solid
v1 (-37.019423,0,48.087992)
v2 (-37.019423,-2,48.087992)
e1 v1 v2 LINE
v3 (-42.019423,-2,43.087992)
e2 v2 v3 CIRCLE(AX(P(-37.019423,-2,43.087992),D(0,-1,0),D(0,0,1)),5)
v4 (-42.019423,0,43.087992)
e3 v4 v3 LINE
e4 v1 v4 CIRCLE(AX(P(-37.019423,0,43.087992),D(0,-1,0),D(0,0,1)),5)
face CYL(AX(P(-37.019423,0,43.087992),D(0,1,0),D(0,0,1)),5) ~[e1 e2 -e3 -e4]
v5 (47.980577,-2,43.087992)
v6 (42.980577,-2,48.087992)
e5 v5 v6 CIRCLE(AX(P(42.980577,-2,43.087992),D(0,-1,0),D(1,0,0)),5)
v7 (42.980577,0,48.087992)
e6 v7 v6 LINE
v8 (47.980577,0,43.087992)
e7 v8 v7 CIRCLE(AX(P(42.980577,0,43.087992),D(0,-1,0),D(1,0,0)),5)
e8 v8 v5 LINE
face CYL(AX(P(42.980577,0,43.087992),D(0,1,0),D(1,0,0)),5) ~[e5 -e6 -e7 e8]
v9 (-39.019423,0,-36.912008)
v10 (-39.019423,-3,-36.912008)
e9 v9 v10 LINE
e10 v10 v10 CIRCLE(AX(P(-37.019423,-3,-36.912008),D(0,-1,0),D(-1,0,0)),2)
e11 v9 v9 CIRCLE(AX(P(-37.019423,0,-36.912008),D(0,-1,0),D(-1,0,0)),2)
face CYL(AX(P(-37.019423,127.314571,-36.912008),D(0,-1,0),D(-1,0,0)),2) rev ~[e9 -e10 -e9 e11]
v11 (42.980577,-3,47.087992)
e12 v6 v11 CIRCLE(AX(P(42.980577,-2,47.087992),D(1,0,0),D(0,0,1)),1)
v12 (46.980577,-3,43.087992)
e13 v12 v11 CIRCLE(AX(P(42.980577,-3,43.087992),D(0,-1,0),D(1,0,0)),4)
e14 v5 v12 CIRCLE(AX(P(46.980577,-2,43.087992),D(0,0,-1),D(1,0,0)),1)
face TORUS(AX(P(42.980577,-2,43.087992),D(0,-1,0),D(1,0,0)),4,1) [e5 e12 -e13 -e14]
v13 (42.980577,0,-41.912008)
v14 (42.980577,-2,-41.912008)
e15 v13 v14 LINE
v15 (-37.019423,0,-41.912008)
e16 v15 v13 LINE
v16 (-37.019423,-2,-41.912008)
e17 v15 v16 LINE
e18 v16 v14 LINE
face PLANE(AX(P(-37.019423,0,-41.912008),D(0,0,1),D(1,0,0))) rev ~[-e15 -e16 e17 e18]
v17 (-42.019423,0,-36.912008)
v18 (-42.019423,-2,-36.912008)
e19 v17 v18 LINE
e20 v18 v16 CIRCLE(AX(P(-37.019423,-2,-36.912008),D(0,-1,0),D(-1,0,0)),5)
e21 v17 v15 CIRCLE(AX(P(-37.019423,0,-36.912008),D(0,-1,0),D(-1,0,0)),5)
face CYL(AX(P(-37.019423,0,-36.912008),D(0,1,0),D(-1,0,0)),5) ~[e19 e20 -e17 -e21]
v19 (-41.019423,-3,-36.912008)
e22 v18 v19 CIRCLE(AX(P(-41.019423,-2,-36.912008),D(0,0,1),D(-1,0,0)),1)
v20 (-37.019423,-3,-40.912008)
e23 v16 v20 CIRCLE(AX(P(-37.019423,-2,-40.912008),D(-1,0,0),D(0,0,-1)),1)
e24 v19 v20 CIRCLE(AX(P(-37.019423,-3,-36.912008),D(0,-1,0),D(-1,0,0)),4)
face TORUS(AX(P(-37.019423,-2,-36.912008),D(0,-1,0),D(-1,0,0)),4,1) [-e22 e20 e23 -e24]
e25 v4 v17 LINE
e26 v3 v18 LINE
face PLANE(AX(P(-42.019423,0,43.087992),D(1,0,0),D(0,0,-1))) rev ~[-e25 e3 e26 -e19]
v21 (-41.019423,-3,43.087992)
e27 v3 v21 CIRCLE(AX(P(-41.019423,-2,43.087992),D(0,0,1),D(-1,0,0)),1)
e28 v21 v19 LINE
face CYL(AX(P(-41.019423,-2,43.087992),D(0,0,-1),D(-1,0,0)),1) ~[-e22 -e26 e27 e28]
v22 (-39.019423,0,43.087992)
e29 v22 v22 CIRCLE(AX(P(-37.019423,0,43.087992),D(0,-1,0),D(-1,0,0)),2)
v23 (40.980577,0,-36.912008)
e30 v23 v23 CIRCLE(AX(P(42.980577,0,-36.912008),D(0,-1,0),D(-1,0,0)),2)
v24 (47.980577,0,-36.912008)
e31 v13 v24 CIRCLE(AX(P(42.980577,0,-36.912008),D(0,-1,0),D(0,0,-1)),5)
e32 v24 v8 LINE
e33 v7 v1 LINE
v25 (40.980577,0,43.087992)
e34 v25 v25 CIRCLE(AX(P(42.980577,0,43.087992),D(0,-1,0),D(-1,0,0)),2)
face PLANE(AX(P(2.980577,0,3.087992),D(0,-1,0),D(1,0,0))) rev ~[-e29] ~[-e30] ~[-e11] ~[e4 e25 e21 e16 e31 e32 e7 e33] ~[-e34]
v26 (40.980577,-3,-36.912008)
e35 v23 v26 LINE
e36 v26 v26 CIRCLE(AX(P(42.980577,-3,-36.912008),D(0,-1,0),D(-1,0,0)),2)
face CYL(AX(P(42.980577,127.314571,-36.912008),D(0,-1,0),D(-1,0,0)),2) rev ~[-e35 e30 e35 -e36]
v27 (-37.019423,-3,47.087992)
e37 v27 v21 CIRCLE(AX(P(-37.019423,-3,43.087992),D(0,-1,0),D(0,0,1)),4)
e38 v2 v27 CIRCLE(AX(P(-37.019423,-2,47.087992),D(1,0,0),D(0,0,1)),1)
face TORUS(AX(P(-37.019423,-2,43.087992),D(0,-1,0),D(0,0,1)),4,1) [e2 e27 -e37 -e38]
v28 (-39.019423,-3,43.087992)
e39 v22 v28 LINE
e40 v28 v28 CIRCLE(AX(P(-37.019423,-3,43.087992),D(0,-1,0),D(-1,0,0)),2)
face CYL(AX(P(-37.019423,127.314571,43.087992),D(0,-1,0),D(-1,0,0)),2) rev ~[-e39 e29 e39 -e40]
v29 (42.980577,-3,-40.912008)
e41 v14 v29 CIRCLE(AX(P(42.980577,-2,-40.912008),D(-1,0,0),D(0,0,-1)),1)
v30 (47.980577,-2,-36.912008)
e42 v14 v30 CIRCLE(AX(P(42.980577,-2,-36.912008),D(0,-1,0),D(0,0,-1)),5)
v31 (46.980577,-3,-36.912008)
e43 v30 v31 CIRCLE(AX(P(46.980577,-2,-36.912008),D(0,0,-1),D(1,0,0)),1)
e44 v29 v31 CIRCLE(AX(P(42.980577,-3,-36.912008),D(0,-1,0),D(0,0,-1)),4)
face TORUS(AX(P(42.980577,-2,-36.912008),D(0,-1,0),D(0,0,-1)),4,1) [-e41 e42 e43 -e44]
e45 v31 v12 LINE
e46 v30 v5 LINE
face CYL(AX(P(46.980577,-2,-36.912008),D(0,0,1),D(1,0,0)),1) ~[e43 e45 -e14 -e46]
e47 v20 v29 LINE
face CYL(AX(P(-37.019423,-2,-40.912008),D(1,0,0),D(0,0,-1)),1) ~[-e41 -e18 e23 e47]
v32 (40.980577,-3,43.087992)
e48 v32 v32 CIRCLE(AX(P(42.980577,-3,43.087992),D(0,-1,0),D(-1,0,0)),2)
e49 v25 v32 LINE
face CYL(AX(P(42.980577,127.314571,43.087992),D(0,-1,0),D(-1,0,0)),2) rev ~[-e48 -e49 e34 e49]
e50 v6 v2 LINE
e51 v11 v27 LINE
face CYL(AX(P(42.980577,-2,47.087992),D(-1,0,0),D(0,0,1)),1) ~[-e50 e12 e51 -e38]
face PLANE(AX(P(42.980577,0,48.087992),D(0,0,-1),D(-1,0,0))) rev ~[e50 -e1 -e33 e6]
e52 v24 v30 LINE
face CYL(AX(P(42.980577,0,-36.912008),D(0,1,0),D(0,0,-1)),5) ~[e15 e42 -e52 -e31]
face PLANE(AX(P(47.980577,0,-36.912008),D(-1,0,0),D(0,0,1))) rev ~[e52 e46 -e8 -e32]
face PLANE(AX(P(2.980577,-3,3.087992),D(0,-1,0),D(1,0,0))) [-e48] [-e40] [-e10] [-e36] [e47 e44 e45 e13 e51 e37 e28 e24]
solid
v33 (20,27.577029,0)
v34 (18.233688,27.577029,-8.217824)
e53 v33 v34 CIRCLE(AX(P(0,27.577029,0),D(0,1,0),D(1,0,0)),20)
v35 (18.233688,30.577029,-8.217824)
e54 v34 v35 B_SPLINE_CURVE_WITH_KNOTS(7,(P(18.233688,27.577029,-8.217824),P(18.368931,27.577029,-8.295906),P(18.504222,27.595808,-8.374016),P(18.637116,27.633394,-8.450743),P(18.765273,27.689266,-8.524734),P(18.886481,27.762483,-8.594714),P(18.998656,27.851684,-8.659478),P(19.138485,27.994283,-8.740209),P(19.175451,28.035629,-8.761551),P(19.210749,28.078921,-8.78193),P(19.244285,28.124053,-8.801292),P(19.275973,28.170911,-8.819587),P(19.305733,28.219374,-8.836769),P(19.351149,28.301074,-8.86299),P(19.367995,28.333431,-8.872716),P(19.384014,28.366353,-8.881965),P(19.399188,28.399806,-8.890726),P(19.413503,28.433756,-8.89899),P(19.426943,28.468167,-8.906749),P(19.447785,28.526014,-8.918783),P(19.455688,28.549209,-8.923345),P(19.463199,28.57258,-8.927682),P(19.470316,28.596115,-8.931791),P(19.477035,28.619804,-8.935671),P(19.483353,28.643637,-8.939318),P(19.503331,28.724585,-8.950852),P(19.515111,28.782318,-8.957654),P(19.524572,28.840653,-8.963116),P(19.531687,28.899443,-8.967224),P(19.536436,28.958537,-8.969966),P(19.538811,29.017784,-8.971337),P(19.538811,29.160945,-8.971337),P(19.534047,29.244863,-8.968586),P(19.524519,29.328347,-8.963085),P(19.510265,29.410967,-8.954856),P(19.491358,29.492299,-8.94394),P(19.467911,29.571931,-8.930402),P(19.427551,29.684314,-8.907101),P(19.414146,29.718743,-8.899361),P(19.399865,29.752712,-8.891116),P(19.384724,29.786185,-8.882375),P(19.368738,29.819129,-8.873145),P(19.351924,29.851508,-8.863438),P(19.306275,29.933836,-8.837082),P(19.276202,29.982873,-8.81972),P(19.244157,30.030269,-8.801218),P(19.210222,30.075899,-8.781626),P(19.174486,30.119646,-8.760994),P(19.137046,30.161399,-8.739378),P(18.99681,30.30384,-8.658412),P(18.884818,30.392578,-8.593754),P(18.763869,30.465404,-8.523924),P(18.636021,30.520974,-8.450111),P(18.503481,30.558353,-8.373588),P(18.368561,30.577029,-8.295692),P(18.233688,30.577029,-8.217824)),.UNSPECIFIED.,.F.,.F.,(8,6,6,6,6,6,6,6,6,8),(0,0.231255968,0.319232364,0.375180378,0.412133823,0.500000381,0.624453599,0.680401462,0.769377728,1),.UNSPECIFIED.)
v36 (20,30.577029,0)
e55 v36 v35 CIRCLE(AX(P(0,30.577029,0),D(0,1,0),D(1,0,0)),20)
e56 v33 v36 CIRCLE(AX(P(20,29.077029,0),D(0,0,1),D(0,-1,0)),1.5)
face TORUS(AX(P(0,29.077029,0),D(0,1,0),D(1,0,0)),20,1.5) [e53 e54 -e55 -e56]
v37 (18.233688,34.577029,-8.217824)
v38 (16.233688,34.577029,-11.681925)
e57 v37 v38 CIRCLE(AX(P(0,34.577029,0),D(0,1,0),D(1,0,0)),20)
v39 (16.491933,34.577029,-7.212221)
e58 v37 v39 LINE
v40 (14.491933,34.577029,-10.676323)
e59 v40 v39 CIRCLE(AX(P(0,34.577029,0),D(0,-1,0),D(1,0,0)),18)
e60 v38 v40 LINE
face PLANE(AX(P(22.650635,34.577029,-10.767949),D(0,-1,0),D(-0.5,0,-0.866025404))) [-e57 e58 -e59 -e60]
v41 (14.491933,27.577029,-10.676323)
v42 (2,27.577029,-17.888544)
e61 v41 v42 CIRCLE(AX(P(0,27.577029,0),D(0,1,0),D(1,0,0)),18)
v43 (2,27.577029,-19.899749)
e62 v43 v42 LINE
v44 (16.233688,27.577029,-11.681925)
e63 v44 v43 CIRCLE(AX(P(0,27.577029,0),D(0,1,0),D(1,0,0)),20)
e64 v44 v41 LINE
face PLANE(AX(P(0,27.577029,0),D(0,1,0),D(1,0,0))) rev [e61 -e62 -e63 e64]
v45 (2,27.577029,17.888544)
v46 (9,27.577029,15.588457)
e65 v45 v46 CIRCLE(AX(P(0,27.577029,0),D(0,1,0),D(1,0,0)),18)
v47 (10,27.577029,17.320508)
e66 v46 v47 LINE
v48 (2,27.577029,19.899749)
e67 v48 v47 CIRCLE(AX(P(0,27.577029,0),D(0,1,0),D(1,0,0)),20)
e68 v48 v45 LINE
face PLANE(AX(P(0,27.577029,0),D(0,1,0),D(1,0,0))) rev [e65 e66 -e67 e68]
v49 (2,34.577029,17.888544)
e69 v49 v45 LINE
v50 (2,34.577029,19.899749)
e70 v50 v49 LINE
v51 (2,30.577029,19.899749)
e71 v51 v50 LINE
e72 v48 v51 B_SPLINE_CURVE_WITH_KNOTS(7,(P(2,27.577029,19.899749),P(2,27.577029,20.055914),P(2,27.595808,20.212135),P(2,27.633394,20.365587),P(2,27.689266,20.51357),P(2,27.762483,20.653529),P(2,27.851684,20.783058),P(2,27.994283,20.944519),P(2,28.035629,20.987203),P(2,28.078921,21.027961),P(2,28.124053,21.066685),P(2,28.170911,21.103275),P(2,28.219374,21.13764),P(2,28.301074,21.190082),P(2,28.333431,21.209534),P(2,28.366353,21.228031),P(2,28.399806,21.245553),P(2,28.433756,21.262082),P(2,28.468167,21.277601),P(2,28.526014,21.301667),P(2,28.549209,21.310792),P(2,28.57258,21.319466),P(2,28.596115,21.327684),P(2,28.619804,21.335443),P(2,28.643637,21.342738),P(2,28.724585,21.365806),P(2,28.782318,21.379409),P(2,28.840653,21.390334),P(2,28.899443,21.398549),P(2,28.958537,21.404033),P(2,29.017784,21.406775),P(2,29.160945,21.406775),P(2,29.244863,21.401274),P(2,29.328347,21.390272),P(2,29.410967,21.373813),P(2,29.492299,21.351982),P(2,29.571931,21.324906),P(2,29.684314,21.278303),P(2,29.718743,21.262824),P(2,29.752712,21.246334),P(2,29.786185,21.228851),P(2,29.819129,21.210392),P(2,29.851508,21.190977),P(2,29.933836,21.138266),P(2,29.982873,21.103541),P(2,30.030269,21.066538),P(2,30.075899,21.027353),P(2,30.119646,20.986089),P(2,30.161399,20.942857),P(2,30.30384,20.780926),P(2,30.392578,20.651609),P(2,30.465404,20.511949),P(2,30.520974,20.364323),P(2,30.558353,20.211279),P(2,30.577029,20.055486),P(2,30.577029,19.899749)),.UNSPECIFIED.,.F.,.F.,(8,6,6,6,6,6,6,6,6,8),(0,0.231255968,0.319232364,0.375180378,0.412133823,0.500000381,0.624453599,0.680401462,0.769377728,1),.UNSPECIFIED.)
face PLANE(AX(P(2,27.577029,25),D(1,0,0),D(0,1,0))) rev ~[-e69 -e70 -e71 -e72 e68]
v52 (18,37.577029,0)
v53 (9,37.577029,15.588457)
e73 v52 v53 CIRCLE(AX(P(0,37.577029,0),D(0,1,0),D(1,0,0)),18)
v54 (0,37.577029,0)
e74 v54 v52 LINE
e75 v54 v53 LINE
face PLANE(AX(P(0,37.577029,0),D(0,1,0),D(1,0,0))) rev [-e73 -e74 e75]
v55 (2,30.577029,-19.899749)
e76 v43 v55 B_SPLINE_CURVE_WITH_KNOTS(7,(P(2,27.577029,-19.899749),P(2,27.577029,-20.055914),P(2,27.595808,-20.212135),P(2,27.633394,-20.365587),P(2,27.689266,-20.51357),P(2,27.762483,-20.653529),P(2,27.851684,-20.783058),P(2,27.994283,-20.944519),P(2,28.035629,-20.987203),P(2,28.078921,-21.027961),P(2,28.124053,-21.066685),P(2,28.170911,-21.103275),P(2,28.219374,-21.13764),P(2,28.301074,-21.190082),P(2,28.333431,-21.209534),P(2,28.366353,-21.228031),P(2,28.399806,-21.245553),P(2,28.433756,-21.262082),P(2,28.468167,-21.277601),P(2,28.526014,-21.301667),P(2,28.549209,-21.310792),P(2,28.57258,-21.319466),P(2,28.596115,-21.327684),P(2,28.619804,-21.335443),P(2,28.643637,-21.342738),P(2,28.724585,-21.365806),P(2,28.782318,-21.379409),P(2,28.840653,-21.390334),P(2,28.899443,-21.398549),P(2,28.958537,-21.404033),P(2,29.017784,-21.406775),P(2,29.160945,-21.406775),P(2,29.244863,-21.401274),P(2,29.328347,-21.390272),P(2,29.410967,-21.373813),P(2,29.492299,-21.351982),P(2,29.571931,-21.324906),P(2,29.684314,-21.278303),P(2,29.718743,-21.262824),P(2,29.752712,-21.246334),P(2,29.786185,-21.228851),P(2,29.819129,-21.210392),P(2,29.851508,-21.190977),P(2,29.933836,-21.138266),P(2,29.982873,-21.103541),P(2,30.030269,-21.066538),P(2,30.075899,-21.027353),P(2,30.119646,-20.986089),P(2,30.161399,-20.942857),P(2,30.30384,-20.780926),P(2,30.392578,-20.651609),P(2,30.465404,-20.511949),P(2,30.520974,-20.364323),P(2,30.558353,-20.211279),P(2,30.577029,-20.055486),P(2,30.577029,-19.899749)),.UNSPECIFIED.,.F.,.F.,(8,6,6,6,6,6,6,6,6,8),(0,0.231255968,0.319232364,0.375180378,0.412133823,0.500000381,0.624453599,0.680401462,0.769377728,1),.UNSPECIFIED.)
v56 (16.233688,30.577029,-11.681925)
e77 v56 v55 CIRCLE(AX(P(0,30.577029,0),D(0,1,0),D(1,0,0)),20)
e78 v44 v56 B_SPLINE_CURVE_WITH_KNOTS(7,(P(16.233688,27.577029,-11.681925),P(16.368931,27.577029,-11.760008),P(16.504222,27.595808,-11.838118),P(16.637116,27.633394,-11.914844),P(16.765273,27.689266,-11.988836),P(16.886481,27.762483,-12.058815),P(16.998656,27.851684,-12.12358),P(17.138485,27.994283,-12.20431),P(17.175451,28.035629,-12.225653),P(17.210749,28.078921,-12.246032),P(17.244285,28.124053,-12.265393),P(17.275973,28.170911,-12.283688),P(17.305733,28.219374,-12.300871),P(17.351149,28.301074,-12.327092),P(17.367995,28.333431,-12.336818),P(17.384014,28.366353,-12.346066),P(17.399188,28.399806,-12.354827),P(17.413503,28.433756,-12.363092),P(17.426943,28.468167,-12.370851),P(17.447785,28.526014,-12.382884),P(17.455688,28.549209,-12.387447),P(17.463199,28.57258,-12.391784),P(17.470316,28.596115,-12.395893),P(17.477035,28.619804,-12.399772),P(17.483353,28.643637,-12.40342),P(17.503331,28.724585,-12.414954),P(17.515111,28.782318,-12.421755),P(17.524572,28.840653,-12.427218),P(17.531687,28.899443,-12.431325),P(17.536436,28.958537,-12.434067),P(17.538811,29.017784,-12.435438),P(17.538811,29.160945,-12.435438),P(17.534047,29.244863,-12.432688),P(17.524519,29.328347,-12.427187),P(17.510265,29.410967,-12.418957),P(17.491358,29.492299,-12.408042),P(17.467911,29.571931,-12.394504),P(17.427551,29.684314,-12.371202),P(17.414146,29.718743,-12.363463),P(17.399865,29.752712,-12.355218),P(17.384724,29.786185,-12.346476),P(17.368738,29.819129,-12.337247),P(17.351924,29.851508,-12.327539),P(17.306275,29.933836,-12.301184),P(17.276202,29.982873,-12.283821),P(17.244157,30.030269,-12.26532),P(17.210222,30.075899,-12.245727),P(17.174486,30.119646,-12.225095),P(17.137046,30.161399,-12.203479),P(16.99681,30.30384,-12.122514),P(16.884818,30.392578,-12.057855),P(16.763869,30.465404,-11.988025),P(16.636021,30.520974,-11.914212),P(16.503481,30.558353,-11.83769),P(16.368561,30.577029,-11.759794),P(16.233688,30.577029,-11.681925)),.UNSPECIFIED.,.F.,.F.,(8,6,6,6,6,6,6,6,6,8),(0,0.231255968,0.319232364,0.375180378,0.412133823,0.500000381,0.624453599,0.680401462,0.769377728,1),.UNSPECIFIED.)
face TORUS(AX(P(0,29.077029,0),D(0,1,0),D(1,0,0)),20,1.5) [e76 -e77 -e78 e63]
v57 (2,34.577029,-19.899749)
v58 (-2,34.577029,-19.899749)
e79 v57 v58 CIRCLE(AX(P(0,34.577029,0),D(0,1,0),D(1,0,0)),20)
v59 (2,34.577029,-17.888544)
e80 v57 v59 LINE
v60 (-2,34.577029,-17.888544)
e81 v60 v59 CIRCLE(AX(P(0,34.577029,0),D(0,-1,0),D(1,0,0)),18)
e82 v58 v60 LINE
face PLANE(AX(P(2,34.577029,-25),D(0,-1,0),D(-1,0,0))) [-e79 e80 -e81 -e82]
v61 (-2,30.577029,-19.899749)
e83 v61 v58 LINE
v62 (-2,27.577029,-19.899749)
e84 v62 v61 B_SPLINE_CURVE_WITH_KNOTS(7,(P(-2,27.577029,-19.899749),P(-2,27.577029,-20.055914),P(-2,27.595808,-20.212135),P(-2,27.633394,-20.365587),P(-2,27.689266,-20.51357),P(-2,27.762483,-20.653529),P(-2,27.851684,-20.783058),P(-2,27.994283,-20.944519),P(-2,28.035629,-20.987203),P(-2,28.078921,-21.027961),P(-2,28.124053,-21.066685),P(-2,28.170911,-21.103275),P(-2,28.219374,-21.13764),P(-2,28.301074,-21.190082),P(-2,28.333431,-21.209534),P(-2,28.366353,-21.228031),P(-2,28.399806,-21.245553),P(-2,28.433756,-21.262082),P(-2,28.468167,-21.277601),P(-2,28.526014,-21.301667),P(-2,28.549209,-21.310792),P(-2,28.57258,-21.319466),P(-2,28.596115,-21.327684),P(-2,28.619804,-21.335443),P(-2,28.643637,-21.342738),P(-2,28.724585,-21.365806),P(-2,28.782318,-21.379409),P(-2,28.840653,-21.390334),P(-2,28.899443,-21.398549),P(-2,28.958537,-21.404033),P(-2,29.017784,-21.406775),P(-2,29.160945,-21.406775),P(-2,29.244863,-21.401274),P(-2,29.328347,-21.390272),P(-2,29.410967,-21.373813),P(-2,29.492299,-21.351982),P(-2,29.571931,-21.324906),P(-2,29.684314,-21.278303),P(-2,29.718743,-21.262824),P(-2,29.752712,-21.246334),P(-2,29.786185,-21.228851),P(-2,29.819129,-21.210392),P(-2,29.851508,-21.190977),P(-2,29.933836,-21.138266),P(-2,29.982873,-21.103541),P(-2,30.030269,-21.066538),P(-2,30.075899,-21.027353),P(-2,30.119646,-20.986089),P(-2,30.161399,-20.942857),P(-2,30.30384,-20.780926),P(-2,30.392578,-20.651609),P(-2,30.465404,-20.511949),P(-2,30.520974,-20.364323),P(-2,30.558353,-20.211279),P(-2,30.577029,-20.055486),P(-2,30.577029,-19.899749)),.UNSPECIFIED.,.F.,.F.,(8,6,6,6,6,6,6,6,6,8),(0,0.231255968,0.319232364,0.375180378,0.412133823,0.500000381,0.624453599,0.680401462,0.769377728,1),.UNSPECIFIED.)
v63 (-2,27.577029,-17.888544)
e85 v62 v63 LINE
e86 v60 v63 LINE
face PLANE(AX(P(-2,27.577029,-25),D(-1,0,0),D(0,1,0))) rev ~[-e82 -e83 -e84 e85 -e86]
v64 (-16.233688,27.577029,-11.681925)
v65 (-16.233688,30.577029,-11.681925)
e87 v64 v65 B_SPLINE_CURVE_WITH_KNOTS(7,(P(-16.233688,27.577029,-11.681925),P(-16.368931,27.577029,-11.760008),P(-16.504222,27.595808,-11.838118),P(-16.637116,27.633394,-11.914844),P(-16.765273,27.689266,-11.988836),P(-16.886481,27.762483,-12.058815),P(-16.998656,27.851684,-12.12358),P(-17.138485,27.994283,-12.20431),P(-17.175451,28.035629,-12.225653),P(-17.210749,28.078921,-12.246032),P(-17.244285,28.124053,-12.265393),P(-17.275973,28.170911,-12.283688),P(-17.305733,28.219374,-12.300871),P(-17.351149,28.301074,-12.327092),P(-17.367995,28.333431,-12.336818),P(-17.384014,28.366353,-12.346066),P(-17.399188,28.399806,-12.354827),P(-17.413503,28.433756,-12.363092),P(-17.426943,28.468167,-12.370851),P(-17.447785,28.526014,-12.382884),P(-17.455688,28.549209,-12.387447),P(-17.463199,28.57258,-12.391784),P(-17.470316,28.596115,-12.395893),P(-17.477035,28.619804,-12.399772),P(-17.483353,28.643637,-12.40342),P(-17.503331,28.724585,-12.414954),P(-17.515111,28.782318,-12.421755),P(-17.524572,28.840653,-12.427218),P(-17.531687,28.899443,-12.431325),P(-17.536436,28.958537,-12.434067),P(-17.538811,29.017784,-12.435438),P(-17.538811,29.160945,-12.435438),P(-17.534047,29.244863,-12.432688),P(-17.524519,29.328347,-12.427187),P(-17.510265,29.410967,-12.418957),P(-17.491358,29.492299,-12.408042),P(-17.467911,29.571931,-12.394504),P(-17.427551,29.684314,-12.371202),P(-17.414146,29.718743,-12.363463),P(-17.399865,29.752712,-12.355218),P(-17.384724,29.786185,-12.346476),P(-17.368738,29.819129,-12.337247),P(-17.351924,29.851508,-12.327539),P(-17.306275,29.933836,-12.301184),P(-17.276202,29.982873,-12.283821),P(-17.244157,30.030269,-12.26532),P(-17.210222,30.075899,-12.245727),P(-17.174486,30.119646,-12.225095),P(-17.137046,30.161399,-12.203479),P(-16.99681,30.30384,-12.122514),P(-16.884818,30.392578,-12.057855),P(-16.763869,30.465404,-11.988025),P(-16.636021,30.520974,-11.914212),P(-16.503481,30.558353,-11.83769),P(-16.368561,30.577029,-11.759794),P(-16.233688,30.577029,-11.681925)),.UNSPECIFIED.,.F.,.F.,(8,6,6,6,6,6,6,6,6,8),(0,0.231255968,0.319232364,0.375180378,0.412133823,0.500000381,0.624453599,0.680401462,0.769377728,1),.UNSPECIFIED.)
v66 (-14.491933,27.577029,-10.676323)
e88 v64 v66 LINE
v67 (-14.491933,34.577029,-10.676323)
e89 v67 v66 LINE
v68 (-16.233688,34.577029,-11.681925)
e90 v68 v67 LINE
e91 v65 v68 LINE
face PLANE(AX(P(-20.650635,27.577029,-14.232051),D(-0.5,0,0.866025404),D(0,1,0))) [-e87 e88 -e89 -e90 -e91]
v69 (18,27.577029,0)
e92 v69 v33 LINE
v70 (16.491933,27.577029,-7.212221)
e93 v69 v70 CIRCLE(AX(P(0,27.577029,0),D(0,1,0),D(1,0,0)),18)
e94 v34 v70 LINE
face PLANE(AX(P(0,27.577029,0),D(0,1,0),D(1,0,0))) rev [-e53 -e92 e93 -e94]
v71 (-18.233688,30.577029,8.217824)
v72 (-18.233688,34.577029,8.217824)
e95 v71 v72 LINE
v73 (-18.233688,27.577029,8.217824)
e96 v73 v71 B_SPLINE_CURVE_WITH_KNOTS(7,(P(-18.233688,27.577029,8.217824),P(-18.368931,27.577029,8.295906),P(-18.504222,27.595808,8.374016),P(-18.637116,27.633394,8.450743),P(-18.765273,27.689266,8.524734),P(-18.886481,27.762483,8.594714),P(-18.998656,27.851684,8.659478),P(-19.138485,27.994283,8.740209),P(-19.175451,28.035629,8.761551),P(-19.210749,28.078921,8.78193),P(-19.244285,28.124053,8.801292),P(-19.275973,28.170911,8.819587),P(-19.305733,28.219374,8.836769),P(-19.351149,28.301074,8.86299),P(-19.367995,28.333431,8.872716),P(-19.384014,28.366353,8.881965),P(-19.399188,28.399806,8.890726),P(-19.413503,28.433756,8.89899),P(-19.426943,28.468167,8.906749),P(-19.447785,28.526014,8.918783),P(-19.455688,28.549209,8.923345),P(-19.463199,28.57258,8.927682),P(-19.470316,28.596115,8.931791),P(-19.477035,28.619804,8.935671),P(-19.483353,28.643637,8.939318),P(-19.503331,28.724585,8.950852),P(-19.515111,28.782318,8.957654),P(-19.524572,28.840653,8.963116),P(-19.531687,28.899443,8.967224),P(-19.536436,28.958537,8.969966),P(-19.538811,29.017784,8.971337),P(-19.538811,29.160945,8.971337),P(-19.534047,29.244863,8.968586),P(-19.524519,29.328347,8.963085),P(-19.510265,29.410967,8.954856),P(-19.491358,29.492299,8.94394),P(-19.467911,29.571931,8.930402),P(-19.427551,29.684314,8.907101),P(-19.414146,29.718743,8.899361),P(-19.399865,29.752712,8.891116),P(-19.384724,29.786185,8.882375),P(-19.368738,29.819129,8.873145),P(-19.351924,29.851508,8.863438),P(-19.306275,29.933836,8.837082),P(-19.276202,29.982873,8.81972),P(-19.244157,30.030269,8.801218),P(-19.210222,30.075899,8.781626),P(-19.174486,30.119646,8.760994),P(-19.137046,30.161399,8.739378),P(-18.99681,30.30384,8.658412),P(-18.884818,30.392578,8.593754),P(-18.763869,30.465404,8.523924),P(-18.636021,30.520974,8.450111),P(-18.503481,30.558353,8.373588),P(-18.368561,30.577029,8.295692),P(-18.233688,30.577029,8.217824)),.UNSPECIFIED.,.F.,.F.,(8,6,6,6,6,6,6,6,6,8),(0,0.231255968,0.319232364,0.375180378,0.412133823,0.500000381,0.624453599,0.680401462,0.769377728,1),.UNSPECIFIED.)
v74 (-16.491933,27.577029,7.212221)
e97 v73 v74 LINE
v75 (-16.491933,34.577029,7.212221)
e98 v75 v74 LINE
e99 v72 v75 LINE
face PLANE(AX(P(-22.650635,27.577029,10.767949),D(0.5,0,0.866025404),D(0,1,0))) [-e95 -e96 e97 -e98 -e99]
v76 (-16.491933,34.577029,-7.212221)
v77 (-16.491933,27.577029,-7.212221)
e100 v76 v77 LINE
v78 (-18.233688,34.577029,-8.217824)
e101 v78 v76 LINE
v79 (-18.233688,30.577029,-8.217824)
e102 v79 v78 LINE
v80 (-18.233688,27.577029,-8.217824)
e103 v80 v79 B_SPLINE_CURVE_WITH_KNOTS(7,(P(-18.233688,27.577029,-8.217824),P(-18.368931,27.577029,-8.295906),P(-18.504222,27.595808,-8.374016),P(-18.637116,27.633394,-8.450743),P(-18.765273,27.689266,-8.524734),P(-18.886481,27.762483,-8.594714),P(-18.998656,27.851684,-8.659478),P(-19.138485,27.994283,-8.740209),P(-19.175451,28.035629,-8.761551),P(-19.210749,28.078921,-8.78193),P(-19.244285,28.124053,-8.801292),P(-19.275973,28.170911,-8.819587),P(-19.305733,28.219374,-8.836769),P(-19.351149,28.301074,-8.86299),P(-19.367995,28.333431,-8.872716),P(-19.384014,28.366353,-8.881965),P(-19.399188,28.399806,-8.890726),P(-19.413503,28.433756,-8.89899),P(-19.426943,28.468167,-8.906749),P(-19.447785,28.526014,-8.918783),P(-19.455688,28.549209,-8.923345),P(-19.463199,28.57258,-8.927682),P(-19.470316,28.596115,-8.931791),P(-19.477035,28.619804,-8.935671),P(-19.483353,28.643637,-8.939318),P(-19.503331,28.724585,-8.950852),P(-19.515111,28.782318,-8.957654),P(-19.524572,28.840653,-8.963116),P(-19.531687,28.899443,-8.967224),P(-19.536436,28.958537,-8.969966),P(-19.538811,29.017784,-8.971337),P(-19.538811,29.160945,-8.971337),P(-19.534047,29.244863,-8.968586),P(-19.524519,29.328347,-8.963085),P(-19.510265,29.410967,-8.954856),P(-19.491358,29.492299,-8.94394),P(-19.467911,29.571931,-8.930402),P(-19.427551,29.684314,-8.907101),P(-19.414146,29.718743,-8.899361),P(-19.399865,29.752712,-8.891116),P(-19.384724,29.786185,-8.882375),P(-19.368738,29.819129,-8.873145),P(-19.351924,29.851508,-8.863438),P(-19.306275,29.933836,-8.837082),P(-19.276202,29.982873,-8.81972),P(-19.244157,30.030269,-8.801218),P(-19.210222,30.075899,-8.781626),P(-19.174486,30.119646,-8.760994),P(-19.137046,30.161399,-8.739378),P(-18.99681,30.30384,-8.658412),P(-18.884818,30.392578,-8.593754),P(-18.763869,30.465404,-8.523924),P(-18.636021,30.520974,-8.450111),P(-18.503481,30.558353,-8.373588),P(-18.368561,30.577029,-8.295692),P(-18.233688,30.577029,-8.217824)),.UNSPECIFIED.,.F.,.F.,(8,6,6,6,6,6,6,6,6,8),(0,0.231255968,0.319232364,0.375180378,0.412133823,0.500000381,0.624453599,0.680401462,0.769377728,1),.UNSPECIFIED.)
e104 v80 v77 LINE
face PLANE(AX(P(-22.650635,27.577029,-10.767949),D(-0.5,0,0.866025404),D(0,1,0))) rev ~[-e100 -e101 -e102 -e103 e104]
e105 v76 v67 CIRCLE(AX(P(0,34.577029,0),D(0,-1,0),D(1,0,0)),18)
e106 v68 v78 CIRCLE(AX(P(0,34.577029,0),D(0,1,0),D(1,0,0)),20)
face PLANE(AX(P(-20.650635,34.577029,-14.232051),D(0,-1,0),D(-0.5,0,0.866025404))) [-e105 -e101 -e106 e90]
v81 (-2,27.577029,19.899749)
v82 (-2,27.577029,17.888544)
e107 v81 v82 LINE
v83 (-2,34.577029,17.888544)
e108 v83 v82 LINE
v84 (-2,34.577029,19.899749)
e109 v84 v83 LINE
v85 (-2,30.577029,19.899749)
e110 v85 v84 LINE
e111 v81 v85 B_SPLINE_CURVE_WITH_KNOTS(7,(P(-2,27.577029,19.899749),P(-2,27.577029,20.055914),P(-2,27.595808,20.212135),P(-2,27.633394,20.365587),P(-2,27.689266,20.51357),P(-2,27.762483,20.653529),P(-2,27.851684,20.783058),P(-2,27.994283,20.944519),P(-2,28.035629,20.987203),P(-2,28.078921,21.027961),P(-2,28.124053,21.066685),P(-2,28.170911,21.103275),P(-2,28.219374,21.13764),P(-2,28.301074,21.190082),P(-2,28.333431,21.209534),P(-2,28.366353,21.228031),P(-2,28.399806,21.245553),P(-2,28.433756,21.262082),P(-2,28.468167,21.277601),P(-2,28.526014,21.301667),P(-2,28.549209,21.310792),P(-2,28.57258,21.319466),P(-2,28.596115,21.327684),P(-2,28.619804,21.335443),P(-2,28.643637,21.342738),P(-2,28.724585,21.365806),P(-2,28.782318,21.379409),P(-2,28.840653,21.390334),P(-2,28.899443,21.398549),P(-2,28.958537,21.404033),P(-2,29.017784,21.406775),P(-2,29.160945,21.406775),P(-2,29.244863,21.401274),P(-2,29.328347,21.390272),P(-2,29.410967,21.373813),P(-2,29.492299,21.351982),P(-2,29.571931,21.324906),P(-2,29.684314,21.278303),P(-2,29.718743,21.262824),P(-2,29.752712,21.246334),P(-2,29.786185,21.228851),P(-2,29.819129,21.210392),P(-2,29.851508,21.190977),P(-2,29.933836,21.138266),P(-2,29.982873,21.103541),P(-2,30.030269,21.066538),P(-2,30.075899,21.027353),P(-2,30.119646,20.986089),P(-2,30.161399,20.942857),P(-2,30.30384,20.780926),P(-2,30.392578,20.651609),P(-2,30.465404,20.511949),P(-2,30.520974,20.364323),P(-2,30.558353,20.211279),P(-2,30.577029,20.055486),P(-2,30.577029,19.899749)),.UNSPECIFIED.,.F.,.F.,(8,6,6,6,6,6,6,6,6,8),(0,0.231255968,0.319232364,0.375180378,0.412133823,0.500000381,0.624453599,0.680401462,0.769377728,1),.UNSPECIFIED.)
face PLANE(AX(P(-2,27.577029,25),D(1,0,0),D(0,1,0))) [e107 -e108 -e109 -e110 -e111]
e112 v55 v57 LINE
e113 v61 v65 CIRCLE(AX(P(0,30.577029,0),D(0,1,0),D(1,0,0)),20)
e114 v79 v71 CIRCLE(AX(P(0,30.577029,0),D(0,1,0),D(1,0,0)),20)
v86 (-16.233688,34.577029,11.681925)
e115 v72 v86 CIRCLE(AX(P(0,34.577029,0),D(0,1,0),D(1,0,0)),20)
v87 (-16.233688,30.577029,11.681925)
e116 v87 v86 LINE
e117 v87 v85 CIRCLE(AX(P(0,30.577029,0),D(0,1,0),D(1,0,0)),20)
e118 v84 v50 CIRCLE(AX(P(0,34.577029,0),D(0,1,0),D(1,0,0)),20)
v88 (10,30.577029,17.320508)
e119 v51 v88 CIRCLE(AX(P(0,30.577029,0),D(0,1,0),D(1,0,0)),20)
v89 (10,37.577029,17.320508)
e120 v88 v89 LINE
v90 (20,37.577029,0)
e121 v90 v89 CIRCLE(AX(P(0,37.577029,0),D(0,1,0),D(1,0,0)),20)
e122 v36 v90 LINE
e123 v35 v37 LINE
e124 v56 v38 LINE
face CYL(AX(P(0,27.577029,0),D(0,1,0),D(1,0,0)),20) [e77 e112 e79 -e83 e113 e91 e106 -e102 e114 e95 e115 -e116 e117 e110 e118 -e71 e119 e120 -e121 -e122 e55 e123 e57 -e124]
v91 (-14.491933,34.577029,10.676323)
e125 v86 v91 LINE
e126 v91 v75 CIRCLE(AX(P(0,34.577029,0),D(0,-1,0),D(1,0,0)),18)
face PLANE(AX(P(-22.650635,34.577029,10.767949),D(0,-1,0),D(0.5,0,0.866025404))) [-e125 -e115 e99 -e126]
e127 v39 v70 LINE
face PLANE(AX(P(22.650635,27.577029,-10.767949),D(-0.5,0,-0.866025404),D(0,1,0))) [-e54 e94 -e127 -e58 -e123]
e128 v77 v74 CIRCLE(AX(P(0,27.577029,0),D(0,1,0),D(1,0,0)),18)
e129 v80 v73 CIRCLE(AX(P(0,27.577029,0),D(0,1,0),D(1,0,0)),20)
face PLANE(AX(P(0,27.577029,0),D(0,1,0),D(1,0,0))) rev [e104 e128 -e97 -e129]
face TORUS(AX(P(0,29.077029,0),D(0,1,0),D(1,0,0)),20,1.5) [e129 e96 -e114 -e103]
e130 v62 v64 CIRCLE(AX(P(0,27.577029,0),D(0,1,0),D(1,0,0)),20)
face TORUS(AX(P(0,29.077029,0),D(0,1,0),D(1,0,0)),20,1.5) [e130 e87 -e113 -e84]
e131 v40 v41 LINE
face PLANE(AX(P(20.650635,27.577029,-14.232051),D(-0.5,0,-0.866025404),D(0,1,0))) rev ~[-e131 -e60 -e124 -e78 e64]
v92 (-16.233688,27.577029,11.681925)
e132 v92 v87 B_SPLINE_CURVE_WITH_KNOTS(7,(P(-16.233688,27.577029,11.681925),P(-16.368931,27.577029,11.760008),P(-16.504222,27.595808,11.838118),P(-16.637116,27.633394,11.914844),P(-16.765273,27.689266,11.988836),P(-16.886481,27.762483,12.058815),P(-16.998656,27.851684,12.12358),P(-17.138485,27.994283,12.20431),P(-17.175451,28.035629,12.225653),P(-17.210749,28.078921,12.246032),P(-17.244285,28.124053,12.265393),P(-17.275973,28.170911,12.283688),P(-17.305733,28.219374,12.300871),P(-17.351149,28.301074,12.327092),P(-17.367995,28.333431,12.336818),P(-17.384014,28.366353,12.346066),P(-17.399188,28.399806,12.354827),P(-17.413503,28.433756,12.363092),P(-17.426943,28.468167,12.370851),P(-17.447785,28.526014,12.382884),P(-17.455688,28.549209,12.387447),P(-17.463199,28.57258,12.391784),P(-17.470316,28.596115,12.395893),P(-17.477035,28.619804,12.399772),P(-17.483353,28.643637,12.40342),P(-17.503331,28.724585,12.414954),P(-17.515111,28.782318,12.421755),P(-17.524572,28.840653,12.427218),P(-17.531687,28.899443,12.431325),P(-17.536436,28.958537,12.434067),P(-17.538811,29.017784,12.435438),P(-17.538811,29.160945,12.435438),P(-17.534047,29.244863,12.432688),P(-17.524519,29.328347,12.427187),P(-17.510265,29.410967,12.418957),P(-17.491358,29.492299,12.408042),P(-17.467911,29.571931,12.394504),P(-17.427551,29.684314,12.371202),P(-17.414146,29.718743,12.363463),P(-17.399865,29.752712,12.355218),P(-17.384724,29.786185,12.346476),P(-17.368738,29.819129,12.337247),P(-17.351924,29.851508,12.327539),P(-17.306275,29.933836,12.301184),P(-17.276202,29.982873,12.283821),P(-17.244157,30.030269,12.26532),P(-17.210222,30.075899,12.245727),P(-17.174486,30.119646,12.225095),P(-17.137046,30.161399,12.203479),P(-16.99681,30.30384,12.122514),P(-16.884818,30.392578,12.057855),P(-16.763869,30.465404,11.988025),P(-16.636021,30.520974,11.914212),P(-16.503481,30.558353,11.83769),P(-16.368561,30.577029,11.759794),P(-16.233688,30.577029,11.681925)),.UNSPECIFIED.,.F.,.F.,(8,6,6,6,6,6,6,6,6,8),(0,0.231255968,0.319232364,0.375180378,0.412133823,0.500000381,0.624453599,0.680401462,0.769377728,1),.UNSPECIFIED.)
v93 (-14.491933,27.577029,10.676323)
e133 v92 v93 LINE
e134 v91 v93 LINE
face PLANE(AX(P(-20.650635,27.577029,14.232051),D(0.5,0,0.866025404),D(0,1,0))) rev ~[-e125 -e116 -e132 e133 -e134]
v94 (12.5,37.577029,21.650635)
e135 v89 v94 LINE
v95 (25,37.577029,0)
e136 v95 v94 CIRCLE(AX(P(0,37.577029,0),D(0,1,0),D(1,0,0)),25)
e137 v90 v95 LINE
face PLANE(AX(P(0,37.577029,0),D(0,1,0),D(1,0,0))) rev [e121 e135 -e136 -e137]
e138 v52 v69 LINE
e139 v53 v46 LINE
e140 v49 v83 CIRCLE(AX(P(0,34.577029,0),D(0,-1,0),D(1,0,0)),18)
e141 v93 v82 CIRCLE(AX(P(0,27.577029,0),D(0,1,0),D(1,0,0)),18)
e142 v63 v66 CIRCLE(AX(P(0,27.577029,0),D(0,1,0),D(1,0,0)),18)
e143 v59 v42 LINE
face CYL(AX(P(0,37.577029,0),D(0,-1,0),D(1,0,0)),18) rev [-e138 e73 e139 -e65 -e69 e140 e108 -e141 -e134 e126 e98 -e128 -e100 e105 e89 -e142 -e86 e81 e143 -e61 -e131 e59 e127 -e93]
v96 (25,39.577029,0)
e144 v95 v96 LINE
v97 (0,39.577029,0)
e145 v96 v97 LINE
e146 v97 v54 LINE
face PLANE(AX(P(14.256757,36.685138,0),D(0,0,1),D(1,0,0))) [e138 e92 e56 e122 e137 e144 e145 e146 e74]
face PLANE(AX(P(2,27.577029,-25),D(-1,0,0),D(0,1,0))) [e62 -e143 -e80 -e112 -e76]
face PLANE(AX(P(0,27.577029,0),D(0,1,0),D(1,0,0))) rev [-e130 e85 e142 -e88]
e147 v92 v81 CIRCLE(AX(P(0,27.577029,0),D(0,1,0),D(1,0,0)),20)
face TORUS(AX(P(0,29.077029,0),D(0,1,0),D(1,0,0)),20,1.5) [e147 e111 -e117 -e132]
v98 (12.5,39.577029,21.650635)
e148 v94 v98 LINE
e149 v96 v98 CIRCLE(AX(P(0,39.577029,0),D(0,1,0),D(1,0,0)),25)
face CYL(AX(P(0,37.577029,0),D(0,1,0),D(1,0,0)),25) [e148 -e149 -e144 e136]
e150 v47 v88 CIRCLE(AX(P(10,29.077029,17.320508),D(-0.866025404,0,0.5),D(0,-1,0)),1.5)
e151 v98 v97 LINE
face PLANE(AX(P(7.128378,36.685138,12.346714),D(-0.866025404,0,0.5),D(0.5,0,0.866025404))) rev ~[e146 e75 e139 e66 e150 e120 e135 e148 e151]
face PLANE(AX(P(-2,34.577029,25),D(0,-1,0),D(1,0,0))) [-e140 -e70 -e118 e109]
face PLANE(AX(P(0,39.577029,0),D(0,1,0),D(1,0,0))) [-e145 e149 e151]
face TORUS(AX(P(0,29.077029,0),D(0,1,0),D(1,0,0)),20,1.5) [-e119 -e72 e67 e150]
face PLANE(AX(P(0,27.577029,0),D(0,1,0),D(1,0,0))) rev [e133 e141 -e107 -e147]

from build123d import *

# Parameters (mm, degrees)
F1_DEPTH = 3
F2_R     = 1
F3_D     = 4
F5_ANGLE = 300
F7_W     = 4
F7_H     = 7
F8_DEPTH = 10
F9_COUNT = 6


with BuildPart() as f1:
    # F0 (on Front) → F1 (new body)
    with BuildSketch(Plane.XZ):
        with BuildLine():
            Line((42.9805768281, 48.0879917694), (-37.0194231719, 48.0879917694))
            ThreePointArc((-37.0194231719, 48.0879917694), (-40.5549570778, 46.6235256753), (-42.0194231719, 43.0879917694))
            Line((-42.0194231719, 43.0879917694), (-42.0194231719, -36.9120082306))
            ThreePointArc((-42.0194231719, -36.9120082306), (-40.5549570778, -40.4475421365), (-37.0194231719, -41.9120082306))
            Line((-37.0194231719, -41.9120082306), (42.9805768281, -41.9120082306))
            ThreePointArc((42.9805768281, -41.9120082306), (46.5161107341, -40.4475421365), (47.9805768281, -36.9120082306))
            Line((47.9805768281, -36.9120082306), (47.9805768281, 43.0879917694))
            ThreePointArc((47.9805768281, 43.0879917694), (46.5161107341, 46.6235256753), (42.9805768281, 48.0879917694))
        make_face()
    extrude(amount=F1_DEPTH)

    # F2
    f2_edges = [f1.edges().sort_by_distance(p)[0] for p in [
        (2.980577, -3, 48.087992),
        (-40.554957, -3, 46.623526),
        (-42.019423, -3, 3.087992),
        (-40.554957, -3, -40.447542),
        (2.980577, -3, -41.912008),
        (46.516111, -3, -40.447542),
        (47.980577, -3, 3.087992),
        (46.516111, -3, 46.623526),
    ]]
    fillet(f2_edges, radius=F2_R)

    # F3 (through all)
    with Locations(Plane(origin=(0, 0, 0), x_dir=(1, 0, 0), z_dir=(0, 1, 0))):
        with Locations((42.9805768281, -43.0879917694), (42.9805768281, 36.9120082306), (-37.0194231719, 36.9120082306), (-37.0194231719, -43.0879917694)):
            Hole(F3_D / 2)


with BuildPart() as f5:
    # F4 (on Top) → F5 (revolve)
    with BuildSketch(Plane.XY):
        Polygon((25, 39.5770294305), (0, 39.5770294305), (0, 37.5770294305), (18, 37.5770294305), (18, 27.5770294305), (20, 27.5770294305), (20, 30.5770294305), (20, 37.5770294305), (25, 37.5770294305), align=None)
        with BuildLine():
            ThreePointArc((20, 27.5770294305), (21.5, 29.0770294305), (20, 30.5770294305))
            Line((20, 30.5770294305), (20, 27.5770294305))
        make_face()
    revolve(axis=Axis((0, 38.5770294305, 0), (0, 1, 0)), revolution_arc=F5_ANGLE)


with BuildPart() as f8:
    # F7 (on offset) → F8 (new body)
    with BuildSketch(Plane.XY.offset(25)):
        with Locations((0, 31.0770294305)):
            Rectangle(F7_W, F7_H)
    extrude(amount=-F8_DEPTH)


with BuildPart() as f9_1:
    # F9: instance of F8
    add(f8.part.rotate(Axis((0, 30.5770294305, 0), (0, 1, 0)), 1 * 360 / F9_COUNT))


with BuildPart() as f9_2:
    # F9: instance of F8
    add(f8.part.rotate(Axis((0, 30.5770294305, 0), (0, 1, 0)), 2 * 360 / F9_COUNT))


with BuildPart() as f9_3:
    # F9: instance of F8
    add(f8.part.rotate(Axis((0, 30.5770294305, 0), (0, 1, 0)), 3 * 360 / F9_COUNT))


with BuildPart() as f9_4:
    # F9: instance of F8
    add(f8.part.rotate(Axis((0, 30.5770294305, 0), (0, 1, 0)), 4 * 360 / F9_COUNT))


with BuildPart() as f9_5:
    # F9: instance of F8
    add(f8.part.rotate(Axis((0, 30.5770294305, 0), (0, 1, 0)), 5 * 360 / F9_COUNT))


with BuildPart() as f5_1:
    add(f5.part)

    # F10: cut F9_2, F9_1, F8, F9_5, F9_4, F9_3
    add(f9_2.part, mode=Mode.SUBTRACT)
    add(f9_1.part, mode=Mode.SUBTRACT)
    add(f8.part, mode=Mode.SUBTRACT)
    add(f9_5.part, mode=Mode.SUBTRACT)
    add(f9_4.part, mode=Mode.SUBTRACT)
    add(f9_3.part, mode=Mode.SUBTRACT)


solid = Compound([f1.part, f5_1.part])
